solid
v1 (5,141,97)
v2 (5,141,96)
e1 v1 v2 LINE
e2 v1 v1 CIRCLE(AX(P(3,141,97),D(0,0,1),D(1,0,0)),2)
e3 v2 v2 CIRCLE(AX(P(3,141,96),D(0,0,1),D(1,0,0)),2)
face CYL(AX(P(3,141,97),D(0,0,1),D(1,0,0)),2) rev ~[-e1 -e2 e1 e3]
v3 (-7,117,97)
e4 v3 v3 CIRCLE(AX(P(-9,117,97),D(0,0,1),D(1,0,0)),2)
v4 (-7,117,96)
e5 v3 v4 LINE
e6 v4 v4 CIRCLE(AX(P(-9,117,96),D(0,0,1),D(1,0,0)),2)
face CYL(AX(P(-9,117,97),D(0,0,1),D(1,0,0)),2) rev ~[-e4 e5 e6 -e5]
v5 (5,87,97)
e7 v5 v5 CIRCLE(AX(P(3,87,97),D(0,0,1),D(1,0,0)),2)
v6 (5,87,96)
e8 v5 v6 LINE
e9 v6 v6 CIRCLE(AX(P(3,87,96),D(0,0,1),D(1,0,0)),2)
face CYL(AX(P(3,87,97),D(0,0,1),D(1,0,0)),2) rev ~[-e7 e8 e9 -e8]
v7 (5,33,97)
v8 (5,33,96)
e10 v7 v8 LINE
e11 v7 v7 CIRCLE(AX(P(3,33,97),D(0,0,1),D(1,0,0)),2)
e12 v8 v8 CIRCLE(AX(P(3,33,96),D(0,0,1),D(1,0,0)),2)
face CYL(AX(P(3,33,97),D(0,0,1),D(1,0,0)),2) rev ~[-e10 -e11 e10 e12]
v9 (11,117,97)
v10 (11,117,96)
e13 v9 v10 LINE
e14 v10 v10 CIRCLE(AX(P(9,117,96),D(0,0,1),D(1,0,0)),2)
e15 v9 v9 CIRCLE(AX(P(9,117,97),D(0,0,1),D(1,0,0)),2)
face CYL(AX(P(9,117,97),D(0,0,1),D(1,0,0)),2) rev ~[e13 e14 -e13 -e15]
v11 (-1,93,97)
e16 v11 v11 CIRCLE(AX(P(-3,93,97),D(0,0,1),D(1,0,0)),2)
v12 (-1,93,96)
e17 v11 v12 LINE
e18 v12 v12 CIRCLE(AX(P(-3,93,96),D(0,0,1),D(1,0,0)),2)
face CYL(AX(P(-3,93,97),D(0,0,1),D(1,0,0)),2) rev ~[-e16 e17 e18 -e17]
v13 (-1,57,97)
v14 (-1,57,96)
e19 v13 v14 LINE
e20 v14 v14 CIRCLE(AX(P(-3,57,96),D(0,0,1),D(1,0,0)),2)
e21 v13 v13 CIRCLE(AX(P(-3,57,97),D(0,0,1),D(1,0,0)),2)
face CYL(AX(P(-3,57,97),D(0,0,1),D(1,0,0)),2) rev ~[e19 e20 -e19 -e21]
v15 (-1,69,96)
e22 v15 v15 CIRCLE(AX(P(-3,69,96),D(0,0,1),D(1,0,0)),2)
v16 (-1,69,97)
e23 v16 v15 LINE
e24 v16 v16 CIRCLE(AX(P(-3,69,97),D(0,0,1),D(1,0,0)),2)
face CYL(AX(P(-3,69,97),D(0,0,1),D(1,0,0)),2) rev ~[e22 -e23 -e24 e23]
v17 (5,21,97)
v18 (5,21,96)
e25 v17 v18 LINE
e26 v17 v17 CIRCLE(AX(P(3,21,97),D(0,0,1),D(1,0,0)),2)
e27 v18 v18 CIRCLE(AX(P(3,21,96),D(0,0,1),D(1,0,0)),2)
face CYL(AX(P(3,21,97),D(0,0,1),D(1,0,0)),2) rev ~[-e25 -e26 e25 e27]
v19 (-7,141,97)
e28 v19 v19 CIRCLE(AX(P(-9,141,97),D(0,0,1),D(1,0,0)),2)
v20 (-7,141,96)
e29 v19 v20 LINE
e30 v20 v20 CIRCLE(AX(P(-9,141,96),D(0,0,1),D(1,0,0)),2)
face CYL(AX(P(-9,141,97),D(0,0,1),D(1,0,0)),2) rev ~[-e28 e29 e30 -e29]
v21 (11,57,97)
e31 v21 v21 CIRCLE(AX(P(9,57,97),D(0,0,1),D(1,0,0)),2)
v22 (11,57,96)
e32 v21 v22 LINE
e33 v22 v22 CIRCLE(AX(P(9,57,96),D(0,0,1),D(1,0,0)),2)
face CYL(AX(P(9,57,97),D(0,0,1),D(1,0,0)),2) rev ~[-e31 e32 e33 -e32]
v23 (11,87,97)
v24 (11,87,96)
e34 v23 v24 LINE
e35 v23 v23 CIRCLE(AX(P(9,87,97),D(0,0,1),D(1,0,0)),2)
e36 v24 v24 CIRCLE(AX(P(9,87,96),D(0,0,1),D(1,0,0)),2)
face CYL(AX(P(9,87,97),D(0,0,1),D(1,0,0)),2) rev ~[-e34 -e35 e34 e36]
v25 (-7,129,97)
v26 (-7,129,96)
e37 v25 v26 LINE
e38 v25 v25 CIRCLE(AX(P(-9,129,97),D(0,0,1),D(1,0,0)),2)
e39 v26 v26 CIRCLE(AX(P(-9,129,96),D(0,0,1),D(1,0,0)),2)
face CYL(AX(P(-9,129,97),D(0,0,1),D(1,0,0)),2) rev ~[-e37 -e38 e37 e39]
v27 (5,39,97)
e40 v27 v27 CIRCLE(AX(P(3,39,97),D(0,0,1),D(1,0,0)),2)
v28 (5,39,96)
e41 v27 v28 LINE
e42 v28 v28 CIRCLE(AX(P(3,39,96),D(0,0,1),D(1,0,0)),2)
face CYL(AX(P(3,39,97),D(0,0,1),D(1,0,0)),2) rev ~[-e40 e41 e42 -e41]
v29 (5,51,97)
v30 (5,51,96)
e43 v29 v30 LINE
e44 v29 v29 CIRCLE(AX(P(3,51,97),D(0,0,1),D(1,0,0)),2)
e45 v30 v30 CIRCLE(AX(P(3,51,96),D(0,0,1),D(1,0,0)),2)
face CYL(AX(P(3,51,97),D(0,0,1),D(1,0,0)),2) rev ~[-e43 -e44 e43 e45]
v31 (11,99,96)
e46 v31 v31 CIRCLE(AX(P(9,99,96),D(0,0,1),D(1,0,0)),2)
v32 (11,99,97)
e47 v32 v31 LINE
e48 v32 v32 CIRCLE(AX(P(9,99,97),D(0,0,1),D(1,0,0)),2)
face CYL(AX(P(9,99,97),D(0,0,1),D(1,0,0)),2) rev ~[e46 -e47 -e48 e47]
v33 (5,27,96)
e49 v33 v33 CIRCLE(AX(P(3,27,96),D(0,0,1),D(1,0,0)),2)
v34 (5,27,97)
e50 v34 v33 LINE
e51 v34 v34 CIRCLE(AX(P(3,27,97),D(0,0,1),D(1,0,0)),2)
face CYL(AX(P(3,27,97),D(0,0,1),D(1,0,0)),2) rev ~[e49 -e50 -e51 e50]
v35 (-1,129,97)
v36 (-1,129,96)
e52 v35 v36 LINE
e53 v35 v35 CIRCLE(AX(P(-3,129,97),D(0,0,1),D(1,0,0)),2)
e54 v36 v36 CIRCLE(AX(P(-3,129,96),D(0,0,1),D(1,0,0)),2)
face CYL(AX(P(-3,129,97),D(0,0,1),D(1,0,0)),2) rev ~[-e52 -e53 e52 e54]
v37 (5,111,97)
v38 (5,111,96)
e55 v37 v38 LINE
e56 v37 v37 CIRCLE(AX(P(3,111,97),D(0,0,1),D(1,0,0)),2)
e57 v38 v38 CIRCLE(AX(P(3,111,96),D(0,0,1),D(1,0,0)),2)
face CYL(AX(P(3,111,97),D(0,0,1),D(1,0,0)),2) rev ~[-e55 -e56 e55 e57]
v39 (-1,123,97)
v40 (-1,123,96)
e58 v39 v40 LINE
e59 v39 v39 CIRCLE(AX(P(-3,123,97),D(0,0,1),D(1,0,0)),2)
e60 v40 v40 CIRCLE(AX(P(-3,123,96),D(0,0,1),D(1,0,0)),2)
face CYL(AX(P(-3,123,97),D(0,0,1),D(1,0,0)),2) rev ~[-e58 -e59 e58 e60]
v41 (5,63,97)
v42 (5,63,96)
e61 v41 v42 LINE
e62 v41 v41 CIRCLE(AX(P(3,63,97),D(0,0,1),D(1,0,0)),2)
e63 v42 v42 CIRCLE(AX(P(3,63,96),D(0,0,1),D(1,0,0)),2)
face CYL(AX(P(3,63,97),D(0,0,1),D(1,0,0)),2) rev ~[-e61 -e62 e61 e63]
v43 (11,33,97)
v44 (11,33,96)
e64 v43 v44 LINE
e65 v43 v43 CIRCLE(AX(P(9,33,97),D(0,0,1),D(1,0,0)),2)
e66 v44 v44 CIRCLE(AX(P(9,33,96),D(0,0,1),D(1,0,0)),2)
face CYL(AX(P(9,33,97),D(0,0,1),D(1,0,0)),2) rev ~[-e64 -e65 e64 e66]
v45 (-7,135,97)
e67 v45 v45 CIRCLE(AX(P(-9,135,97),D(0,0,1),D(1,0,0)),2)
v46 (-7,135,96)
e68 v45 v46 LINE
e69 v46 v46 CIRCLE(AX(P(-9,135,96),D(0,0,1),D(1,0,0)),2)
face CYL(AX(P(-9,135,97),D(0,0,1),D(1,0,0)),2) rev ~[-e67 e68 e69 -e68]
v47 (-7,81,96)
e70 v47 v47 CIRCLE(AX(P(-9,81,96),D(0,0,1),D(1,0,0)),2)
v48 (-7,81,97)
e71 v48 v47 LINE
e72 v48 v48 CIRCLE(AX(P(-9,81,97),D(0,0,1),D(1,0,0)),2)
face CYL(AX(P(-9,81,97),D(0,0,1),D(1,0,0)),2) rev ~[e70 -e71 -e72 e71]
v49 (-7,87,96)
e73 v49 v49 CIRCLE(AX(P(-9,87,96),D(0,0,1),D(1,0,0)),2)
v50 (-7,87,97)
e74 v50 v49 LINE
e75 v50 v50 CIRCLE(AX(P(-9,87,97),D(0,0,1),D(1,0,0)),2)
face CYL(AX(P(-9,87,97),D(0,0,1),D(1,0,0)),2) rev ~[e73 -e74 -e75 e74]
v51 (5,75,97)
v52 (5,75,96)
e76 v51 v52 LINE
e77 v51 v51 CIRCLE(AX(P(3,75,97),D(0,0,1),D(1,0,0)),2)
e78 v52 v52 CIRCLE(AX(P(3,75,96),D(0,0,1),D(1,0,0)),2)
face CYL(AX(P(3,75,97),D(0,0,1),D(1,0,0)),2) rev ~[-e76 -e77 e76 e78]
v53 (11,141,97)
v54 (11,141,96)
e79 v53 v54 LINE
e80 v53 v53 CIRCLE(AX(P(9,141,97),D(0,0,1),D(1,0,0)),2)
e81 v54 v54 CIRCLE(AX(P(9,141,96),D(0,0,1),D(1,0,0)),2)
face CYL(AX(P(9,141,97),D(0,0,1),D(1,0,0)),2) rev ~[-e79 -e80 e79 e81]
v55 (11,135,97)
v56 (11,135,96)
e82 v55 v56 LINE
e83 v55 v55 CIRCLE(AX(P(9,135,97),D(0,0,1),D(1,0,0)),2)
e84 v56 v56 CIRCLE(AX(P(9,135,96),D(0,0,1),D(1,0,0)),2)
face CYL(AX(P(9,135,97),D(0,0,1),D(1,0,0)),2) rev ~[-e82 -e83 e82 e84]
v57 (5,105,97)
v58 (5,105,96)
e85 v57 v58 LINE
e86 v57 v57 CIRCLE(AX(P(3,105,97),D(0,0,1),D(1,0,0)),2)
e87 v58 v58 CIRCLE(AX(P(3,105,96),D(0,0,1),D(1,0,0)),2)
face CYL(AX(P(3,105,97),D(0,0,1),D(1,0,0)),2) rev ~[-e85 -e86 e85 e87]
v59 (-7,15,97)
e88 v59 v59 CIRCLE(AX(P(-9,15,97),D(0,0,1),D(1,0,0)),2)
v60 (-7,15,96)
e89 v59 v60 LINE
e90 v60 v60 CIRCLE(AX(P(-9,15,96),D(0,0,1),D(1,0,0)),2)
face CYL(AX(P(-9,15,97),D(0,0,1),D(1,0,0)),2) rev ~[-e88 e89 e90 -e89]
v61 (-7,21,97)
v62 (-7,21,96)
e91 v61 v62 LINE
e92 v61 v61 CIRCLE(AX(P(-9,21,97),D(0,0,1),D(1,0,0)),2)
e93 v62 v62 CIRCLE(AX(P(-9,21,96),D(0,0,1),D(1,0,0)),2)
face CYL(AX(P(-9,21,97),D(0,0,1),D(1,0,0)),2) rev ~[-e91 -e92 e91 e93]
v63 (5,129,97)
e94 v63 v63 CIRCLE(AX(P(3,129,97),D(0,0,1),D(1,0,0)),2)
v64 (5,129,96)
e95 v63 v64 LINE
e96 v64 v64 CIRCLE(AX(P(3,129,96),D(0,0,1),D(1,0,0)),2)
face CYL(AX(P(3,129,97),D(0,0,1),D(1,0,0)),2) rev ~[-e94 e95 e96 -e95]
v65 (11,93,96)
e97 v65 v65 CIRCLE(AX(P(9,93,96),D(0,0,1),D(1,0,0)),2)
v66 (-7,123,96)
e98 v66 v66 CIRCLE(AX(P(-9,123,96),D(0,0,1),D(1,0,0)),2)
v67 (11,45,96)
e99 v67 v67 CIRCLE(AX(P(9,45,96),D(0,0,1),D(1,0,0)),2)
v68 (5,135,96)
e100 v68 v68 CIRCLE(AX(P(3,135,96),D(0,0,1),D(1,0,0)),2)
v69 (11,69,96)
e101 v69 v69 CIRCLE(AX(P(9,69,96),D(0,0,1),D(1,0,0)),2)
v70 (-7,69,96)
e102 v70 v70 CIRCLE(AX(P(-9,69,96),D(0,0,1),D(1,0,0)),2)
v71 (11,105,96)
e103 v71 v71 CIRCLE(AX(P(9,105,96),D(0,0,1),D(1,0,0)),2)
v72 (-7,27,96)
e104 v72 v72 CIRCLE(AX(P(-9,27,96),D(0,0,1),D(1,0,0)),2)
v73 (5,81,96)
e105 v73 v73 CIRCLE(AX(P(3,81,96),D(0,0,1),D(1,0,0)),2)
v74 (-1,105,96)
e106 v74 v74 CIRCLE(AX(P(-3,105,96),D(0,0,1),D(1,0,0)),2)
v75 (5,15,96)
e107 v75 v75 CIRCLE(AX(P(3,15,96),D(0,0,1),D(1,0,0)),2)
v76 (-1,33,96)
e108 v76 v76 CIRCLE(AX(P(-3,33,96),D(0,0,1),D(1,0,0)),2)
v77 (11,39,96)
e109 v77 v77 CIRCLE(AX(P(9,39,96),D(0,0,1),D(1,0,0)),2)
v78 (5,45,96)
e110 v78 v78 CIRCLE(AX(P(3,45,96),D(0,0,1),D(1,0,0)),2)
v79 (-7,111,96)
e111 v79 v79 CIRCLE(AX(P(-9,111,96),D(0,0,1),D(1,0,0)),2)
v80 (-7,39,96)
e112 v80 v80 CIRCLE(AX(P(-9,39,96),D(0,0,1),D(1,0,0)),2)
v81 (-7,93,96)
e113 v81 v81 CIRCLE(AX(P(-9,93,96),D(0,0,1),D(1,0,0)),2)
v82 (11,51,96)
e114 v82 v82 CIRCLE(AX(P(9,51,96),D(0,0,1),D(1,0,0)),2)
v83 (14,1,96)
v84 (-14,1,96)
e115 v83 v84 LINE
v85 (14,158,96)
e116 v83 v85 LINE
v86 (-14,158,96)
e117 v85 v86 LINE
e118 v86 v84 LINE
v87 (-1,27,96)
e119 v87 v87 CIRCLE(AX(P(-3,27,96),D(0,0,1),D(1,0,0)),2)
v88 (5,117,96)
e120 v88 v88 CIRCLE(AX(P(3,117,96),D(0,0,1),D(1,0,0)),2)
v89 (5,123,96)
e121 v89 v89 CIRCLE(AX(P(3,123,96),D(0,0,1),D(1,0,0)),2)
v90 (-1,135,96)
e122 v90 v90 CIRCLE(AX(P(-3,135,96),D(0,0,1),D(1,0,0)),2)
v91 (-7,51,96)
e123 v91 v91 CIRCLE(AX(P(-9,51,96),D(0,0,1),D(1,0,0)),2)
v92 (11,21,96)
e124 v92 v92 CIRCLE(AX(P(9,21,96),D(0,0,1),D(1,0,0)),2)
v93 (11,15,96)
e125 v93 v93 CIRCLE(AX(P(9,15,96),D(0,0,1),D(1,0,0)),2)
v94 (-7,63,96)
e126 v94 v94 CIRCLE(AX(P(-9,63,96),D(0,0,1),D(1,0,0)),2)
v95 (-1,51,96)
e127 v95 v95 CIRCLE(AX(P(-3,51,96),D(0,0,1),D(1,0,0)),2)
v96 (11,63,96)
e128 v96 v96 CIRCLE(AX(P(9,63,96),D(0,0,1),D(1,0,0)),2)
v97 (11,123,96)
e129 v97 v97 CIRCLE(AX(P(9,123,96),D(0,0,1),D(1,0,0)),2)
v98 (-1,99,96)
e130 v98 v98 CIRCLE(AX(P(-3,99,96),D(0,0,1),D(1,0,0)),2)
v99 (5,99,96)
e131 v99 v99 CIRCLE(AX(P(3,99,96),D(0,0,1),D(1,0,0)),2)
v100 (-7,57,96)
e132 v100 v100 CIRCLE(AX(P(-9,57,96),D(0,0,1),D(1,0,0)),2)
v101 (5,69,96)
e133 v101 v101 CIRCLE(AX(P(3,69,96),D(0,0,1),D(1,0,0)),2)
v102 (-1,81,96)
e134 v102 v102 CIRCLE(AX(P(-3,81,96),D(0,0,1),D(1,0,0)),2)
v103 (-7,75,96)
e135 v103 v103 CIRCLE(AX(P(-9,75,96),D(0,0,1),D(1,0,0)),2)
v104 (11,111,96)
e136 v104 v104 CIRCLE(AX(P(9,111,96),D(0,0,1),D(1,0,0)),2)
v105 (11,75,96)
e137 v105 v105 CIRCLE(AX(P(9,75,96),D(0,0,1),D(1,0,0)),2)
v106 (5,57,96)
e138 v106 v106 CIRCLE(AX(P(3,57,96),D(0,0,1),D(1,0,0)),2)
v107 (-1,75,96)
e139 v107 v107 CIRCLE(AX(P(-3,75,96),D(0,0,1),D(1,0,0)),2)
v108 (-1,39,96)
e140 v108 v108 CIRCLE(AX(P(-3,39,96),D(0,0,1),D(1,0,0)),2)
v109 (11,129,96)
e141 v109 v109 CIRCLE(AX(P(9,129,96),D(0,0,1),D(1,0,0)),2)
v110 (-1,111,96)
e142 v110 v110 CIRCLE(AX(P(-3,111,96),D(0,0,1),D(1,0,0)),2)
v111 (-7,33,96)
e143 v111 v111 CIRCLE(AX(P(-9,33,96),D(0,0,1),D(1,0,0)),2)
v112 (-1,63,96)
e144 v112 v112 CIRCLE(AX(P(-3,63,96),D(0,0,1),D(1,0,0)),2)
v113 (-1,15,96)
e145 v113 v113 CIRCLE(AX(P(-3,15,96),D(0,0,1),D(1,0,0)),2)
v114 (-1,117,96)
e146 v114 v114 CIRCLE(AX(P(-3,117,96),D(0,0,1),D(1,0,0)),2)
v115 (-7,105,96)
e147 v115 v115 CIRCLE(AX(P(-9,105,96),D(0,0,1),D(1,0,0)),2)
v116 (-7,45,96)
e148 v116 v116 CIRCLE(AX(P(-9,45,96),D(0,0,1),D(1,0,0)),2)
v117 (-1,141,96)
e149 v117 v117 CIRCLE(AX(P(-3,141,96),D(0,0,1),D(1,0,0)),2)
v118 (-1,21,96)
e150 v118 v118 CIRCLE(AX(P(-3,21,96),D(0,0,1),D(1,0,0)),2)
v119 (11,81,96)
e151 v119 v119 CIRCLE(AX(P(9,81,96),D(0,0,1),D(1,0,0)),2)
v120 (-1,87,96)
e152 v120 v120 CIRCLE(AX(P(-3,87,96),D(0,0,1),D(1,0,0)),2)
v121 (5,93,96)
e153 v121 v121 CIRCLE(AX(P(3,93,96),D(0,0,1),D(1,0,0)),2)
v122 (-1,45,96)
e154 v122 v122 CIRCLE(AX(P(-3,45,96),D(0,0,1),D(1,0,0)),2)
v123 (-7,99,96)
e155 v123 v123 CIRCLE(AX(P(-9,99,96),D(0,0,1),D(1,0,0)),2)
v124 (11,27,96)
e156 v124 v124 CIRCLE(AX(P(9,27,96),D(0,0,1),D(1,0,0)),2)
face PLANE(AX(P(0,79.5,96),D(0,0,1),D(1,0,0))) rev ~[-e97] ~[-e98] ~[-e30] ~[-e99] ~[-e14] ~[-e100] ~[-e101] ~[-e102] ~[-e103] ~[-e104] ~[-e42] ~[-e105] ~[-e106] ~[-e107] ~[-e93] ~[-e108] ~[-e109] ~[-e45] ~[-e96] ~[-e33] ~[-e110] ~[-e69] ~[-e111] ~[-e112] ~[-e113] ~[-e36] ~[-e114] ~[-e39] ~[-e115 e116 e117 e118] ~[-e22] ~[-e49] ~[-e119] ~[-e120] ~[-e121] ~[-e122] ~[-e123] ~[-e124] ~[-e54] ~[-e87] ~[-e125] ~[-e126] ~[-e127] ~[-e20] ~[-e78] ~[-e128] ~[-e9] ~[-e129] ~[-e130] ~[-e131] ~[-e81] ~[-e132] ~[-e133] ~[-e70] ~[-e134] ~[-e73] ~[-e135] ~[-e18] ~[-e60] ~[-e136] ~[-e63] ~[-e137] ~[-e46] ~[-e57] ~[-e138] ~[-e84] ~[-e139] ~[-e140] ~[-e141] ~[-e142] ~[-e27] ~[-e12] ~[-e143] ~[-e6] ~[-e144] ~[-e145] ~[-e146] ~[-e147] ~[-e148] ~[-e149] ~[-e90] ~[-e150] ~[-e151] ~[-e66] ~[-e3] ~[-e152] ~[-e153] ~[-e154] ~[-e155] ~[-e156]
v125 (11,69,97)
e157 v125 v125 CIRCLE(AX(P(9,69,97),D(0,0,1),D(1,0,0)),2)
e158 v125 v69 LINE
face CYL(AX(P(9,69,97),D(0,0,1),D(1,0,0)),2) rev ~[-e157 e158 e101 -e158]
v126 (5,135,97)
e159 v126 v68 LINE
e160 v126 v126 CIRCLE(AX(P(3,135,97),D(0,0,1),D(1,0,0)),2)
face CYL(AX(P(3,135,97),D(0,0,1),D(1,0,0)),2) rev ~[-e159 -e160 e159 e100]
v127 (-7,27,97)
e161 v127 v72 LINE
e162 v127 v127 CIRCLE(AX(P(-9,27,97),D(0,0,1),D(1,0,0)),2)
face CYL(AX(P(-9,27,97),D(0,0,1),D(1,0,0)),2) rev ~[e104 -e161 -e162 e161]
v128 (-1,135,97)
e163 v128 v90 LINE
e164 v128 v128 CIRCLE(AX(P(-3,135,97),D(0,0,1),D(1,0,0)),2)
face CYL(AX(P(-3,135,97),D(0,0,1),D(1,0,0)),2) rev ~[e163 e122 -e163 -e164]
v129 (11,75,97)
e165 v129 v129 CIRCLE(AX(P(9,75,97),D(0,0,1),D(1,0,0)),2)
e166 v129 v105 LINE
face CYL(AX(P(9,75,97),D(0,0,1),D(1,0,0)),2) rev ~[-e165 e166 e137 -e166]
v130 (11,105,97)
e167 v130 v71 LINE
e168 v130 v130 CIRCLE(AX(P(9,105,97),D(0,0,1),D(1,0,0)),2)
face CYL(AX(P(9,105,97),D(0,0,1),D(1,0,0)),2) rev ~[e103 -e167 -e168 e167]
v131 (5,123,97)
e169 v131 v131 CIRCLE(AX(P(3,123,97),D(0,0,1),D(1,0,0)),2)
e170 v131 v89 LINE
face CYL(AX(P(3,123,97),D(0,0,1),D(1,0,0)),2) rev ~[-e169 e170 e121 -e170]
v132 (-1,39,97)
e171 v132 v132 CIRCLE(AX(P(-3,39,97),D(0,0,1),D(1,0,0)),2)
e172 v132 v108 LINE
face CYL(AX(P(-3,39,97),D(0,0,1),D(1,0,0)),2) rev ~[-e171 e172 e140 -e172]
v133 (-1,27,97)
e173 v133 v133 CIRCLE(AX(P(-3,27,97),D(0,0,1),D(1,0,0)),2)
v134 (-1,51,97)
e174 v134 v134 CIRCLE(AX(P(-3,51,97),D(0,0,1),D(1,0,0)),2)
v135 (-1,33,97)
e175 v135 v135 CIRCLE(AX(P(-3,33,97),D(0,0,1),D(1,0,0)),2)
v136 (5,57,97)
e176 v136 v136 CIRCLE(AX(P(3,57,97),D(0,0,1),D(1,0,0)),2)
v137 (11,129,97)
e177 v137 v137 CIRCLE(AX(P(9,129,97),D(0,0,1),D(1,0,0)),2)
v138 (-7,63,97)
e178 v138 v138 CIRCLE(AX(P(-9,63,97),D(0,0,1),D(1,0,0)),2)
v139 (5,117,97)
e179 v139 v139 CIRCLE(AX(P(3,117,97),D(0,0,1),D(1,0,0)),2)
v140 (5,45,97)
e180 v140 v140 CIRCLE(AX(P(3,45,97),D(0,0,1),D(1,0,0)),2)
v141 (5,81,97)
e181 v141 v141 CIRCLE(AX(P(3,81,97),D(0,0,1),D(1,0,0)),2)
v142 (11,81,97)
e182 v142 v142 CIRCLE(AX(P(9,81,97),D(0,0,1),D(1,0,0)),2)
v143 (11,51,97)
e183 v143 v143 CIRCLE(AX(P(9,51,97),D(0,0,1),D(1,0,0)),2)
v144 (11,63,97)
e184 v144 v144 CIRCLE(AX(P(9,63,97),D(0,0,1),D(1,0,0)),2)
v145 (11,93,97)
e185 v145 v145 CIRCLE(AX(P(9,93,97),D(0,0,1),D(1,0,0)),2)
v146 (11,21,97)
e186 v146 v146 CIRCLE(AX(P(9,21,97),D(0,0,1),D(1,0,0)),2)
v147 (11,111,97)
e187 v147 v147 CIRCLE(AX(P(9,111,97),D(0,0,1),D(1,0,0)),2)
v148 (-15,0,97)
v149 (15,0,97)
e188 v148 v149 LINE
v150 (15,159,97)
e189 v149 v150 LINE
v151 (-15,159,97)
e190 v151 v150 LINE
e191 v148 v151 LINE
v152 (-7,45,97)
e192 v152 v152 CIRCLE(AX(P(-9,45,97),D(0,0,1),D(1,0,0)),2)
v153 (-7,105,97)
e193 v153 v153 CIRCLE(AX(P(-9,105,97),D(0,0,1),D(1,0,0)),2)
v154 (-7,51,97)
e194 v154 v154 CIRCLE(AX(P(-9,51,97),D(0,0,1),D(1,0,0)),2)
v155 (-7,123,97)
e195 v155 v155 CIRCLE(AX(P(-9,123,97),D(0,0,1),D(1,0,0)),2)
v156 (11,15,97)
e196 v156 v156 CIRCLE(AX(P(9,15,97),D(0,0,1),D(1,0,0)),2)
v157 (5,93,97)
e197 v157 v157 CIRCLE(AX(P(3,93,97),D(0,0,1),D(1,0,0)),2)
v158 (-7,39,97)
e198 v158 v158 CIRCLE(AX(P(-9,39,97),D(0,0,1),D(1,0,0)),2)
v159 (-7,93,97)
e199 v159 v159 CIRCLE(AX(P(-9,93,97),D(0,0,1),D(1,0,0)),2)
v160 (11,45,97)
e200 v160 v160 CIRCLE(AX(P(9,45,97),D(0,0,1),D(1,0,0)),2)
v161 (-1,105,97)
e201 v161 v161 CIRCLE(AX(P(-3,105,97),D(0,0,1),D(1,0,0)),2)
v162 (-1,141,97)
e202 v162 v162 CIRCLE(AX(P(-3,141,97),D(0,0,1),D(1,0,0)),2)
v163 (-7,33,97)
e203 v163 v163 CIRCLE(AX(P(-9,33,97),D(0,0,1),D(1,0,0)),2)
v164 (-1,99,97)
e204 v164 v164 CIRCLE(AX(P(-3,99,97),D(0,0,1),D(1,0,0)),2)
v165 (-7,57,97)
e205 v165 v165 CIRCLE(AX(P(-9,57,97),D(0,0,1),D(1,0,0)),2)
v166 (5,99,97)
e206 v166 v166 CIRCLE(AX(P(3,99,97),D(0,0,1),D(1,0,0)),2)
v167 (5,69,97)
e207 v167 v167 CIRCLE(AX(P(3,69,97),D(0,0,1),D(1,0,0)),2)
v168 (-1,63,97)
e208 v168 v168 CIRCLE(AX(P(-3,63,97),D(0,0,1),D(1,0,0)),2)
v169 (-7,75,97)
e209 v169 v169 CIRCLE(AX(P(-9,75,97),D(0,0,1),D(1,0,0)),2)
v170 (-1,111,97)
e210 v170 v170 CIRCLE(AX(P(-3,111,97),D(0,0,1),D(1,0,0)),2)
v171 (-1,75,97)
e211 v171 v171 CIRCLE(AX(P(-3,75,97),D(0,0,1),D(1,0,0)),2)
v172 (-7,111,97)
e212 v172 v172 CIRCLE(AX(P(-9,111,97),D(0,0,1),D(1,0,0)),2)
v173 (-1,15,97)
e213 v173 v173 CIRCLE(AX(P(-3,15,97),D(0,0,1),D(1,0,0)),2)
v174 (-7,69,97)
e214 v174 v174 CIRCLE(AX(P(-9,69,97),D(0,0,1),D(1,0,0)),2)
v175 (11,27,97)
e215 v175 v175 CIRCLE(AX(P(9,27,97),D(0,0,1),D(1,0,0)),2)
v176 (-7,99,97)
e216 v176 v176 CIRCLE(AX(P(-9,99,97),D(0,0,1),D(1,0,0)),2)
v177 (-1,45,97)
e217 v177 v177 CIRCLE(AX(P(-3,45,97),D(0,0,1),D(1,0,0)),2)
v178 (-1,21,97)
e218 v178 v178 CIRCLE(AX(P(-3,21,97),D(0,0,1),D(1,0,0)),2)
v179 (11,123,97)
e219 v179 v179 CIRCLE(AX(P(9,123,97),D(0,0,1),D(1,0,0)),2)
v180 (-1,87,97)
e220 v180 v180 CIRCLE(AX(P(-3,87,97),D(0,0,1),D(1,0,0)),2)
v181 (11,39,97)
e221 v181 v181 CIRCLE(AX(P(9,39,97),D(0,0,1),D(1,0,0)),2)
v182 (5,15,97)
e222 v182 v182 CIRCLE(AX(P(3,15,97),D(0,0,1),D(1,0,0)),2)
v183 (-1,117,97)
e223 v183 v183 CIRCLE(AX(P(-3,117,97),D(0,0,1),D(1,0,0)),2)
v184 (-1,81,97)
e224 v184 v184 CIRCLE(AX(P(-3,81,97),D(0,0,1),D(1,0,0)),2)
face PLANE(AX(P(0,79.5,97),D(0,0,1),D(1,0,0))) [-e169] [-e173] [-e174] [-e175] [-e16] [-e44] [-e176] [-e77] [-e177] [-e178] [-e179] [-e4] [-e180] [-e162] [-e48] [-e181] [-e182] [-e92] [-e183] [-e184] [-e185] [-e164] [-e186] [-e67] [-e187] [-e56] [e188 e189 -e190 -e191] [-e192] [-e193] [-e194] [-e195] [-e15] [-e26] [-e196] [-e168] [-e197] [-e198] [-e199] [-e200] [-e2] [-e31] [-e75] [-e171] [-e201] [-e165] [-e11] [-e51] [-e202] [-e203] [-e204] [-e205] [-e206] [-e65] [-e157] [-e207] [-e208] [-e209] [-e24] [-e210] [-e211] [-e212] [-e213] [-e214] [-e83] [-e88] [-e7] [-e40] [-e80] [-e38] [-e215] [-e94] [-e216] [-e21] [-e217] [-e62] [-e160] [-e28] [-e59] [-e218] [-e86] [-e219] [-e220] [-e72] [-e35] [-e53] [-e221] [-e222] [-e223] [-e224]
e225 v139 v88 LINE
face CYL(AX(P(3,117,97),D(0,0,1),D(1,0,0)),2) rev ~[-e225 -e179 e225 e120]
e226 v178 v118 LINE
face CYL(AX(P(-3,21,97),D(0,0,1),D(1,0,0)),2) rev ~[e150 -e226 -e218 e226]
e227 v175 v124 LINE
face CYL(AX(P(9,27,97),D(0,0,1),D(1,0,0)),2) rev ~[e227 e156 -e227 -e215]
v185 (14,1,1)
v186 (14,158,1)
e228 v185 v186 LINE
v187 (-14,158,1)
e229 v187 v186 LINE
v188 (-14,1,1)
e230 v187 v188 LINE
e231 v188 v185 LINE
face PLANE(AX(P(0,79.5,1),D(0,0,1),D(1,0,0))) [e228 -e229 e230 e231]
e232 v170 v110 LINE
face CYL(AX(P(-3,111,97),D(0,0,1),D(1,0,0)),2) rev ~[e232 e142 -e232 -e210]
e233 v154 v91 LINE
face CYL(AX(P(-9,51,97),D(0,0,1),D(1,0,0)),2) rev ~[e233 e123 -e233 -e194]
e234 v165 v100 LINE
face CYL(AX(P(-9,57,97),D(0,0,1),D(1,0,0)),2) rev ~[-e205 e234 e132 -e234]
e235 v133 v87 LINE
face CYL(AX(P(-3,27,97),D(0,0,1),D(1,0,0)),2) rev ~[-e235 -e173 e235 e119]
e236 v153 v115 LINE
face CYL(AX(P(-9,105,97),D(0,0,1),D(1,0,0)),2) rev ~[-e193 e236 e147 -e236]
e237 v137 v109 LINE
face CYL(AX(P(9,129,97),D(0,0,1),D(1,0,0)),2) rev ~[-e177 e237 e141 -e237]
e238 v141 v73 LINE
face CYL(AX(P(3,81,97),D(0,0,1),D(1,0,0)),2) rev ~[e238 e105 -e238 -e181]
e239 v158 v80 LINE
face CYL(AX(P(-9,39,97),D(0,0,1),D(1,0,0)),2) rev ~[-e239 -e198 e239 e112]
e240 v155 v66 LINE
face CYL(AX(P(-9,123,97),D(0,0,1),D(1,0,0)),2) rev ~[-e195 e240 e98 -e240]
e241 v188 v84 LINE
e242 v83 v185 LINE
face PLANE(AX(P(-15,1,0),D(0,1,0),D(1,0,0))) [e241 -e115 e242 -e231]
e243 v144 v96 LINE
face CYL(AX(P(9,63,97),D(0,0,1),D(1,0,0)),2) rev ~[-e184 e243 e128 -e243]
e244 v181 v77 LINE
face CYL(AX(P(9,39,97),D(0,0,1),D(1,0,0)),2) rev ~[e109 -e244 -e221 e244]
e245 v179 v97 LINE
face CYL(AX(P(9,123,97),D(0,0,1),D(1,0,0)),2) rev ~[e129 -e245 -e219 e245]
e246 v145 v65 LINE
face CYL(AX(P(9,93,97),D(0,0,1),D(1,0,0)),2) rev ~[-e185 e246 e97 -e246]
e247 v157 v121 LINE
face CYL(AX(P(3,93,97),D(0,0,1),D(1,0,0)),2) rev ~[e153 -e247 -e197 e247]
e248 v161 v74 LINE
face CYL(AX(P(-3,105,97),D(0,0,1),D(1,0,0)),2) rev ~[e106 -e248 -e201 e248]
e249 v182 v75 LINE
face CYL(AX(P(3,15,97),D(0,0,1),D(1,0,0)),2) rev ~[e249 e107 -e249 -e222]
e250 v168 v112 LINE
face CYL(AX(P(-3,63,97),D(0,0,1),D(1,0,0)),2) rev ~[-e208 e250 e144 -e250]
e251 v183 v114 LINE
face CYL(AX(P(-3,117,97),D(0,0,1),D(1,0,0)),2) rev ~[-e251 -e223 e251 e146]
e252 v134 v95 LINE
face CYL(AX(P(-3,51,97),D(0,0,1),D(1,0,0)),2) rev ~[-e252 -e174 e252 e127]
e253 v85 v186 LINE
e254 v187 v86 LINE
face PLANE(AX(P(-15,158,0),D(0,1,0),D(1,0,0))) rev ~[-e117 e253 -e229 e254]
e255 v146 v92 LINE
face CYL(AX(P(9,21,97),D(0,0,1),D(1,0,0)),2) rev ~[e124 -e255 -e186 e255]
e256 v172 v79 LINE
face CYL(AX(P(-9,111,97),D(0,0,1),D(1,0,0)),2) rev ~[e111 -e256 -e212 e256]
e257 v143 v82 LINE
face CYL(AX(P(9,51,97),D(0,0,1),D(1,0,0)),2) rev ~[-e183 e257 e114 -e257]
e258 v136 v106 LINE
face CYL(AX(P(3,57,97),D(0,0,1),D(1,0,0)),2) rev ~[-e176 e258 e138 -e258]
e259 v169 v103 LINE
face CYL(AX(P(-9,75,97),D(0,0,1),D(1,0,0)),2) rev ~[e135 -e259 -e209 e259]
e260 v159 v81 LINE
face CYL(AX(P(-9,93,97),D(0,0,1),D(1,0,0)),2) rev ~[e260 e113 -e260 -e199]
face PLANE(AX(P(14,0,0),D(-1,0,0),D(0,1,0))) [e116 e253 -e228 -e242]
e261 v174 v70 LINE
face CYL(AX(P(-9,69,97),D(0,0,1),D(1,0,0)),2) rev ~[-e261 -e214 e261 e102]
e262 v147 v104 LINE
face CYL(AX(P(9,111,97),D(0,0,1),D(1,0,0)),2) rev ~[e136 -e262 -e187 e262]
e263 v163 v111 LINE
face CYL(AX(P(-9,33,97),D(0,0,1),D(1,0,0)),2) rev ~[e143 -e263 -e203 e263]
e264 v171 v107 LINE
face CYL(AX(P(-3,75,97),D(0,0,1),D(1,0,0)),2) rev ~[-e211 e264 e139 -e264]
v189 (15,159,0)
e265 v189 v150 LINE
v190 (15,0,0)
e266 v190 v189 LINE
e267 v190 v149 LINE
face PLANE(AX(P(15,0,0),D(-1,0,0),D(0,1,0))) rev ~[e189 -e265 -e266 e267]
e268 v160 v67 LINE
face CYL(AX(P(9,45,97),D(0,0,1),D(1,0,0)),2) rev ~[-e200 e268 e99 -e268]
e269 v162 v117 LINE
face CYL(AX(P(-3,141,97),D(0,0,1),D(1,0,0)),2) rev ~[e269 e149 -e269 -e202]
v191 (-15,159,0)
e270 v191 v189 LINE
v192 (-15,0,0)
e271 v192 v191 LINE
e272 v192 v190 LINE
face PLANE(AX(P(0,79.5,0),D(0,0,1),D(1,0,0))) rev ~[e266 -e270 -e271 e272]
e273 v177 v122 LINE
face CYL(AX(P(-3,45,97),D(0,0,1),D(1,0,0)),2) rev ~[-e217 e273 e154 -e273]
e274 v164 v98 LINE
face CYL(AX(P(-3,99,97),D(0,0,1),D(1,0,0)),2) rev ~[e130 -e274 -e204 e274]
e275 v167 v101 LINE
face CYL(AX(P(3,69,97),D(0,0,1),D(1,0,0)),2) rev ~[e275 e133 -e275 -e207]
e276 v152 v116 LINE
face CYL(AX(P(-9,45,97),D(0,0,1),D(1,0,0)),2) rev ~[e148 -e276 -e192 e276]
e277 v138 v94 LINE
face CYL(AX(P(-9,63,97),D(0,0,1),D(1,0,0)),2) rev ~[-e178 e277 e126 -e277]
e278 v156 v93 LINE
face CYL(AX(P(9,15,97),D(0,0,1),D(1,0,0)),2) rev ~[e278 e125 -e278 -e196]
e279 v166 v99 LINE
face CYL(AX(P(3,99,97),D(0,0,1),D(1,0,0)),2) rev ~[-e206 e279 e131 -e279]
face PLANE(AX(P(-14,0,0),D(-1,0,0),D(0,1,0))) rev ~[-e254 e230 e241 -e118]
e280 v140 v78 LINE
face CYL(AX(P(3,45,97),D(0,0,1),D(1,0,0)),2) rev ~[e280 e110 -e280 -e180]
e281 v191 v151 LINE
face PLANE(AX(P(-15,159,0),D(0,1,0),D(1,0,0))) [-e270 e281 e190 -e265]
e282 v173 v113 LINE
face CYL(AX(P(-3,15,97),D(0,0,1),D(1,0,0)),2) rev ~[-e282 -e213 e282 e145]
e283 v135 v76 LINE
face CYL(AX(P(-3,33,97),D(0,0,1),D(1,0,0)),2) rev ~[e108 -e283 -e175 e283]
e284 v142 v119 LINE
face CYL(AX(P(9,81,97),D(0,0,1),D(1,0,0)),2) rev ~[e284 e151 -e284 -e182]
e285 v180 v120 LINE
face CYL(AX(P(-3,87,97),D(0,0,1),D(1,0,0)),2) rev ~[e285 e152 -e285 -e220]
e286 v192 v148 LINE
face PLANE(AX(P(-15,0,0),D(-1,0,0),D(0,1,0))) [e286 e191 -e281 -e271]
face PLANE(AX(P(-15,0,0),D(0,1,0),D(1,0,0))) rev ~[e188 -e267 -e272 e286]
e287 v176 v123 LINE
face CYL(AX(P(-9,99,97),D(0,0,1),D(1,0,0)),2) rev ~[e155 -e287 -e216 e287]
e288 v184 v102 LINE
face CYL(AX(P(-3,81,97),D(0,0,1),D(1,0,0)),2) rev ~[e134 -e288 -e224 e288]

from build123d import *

# Parameters (mm, degrees)
SKETCH1_W         = 30
SKETCH1_H         = 159
CASE_2_DEPTH      = 97
CASE_SHELL_T      = 1
SKETCH2_R         = 2
PERFORATION_DEPTH = 1


with BuildPart() as part:
    # Sketch1 → Case 2 (new body)
    with BuildSketch(Plane.XY):
        with Locations((0, 79.5)):
            Rectangle(SKETCH1_W, SKETCH1_H)
    extrude(amount=CASE_2_DEPTH)

    # Case_shell (no face opened: a closed hollow body)
    add(offset(amount=-CASE_SHELL_T, mode=Mode.PRIVATE), mode=Mode.SUBTRACT)

    # Sketch2 → Perforation (cut)
    with BuildSketch(Plane.XY.offset(97)):
        with Locations((-9, 15)):
            Circle(SKETCH2_R)
        with Locations((-9, 21)):
            Circle(SKETCH2_R)
        with Locations((-9, 27)):
            Circle(SKETCH2_R)
        with Locations((-9, 33)):
            Circle(SKETCH2_R)
        with Locations((-9, 39)):
            Circle(SKETCH2_R)
        with Locations((-9, 45)):
            Circle(SKETCH2_R)
        with Locations((-9, 51)):
            Circle(SKETCH2_R)
        with Locations((-9, 57)):
            Circle(SKETCH2_R)
        with Locations((-9, 63)):
            Circle(SKETCH2_R)
        with Locations((-9, 69)):
            Circle(SKETCH2_R)
        with Locations((-9, 75)):
            Circle(SKETCH2_R)
        with Locations((-9, 81)):
            Circle(SKETCH2_R)
        with Locations((-9, 87)):
            Circle(SKETCH2_R)
        with Locations((-9, 93)):
            Circle(SKETCH2_R)
        with Locations((-9, 99)):
            Circle(SKETCH2_R)
        with Locations((-9, 105)):
            Circle(SKETCH2_R)
        with Locations((-9, 111)):
            Circle(SKETCH2_R)
        with Locations((-9, 117)):
            Circle(SKETCH2_R)
        with Locations((-9, 123)):
            Circle(SKETCH2_R)
        with Locations((-9, 129)):
            Circle(SKETCH2_R)
        with Locations((-9, 135)):
            Circle(SKETCH2_R)
        with Locations((-9, 141)):
            Circle(SKETCH2_R)
        with Locations((-3, 15)):
            Circle(SKETCH2_R)
        with Locations((-3, 21)):
            Circle(SKETCH2_R)
        with Locations((-3, 27)):
            Circle(SKETCH2_R)
        with Locations((-3, 33)):
            Circle(SKETCH2_R)
        with Locations((-3, 39)):
            Circle(SKETCH2_R)
        with Locations((-3, 45)):
            Circle(SKETCH2_R)
        with Locations((-3, 51)):
            Circle(SKETCH2_R)
        with Locations((-3, 57)):
            Circle(SKETCH2_R)
        with Locations((-3, 63)):
            Circle(SKETCH2_R)
        with Locations((-3, 69)):
            Circle(SKETCH2_R)
        with Locations((-3, 75)):
            Circle(SKETCH2_R)
        with Locations((-3, 81)):
            Circle(SKETCH2_R)
        with Locations((-3, 87)):
            Circle(SKETCH2_R)
        with Locations((-3, 93)):
            Circle(SKETCH2_R)
        with Locations((-3, 99)):
            Circle(SKETCH2_R)
        with Locations((-3, 105)):
            Circle(SKETCH2_R)
        with Locations((-3, 111)):
            Circle(SKETCH2_R)
        with Locations((-3, 117)):
            Circle(SKETCH2_R)
        with Locations((-3, 123)):
            Circle(SKETCH2_R)
        with Locations((-3, 129)):
            Circle(SKETCH2_R)
        with Locations((-3, 135)):
            Circle(SKETCH2_R)
        with Locations((-3, 141)):
            Circle(SKETCH2_R)
        with Locations((3, 15)):
            Circle(SKETCH2_R)
        with Locations((3, 21)):
            Circle(SKETCH2_R)
        with Locations((3, 27)):
            Circle(SKETCH2_R)
        with Locations((3, 33)):
            Circle(SKETCH2_R)
        with Locations((3, 39)):
            Circle(SKETCH2_R)
        with Locations((3, 45)):
            Circle(SKETCH2_R)
        with Locations((3, 51)):
            Circle(SKETCH2_R)
        with Locations((3, 57)):
            Circle(SKETCH2_R)
        with Locations((3, 63)):
            Circle(SKETCH2_R)
        with Locations((3, 69)):
            Circle(SKETCH2_R)
        with Locations((3, 75)):
            Circle(SKETCH2_R)
        with Locations((3, 81)):
            Circle(SKETCH2_R)
        with Locations((3, 87)):
            Circle(SKETCH2_R)
        with Locations((3, 93)):
            Circle(SKETCH2_R)
        with Locations((3, 99)):
            Circle(SKETCH2_R)
        with Locations((3, 105)):
            Circle(SKETCH2_R)
        with Locations((3, 111)):
            Circle(SKETCH2_R)
        with Locations((3, 117)):
            Circle(SKETCH2_R)
        with Locations((3, 123)):
            Circle(SKETCH2_R)
        with Locations((3, 129)):
            Circle(SKETCH2_R)
        with Locations((3, 135)):
            Circle(SKETCH2_R)
        with Locations((3, 141)):
            Circle(SKETCH2_R)
        with Locations((9, 15)):
            Circle(SKETCH2_R)
        with Locations((9, 21)):
            Circle(SKETCH2_R)
        with Locations((9, 27)):
            Circle(SKETCH2_R)
        with Locations((9, 33)):
            Circle(SKETCH2_R)
        with Locations((9, 39)):
            Circle(SKETCH2_R)
        with Locations((9, 45)):
            Circle(SKETCH2_R)
        with Locations((9, 51)):
            Circle(SKETCH2_R)
        with Locations((9, 57)):
            Circle(SKETCH2_R)
        with Locations((9, 63)):
            Circle(SKETCH2_R)
        with Locations((9, 69)):
            Circle(SKETCH2_R)
        with Locations((9, 75)):
            Circle(SKETCH2_R)
        with Locations((9, 81)):
            Circle(SKETCH2_R)
        with Locations((9, 87)):
            Circle(SKETCH2_R)
        with Locations((9, 93)):
            Circle(SKETCH2_R)
        with Locations((9, 99)):
            Circle(SKETCH2_R)
        with Locations((9, 105)):
            Circle(SKETCH2_R)
        with Locations((9, 111)):
            Circle(SKETCH2_R)
        with Locations((9, 117)):
            Circle(SKETCH2_R)
        with Locations((9, 123)):
            Circle(SKETCH2_R)
        with Locations((9, 129)):
            Circle(SKETCH2_R)
        with Locations((9, 135)):
            Circle(SKETCH2_R)
        with Locations((9, 141)):
            Circle(SKETCH2_R)
    extrude(amount=-PERFORATION_DEPTH, mode=Mode.SUBTRACT)


solid = part.part
